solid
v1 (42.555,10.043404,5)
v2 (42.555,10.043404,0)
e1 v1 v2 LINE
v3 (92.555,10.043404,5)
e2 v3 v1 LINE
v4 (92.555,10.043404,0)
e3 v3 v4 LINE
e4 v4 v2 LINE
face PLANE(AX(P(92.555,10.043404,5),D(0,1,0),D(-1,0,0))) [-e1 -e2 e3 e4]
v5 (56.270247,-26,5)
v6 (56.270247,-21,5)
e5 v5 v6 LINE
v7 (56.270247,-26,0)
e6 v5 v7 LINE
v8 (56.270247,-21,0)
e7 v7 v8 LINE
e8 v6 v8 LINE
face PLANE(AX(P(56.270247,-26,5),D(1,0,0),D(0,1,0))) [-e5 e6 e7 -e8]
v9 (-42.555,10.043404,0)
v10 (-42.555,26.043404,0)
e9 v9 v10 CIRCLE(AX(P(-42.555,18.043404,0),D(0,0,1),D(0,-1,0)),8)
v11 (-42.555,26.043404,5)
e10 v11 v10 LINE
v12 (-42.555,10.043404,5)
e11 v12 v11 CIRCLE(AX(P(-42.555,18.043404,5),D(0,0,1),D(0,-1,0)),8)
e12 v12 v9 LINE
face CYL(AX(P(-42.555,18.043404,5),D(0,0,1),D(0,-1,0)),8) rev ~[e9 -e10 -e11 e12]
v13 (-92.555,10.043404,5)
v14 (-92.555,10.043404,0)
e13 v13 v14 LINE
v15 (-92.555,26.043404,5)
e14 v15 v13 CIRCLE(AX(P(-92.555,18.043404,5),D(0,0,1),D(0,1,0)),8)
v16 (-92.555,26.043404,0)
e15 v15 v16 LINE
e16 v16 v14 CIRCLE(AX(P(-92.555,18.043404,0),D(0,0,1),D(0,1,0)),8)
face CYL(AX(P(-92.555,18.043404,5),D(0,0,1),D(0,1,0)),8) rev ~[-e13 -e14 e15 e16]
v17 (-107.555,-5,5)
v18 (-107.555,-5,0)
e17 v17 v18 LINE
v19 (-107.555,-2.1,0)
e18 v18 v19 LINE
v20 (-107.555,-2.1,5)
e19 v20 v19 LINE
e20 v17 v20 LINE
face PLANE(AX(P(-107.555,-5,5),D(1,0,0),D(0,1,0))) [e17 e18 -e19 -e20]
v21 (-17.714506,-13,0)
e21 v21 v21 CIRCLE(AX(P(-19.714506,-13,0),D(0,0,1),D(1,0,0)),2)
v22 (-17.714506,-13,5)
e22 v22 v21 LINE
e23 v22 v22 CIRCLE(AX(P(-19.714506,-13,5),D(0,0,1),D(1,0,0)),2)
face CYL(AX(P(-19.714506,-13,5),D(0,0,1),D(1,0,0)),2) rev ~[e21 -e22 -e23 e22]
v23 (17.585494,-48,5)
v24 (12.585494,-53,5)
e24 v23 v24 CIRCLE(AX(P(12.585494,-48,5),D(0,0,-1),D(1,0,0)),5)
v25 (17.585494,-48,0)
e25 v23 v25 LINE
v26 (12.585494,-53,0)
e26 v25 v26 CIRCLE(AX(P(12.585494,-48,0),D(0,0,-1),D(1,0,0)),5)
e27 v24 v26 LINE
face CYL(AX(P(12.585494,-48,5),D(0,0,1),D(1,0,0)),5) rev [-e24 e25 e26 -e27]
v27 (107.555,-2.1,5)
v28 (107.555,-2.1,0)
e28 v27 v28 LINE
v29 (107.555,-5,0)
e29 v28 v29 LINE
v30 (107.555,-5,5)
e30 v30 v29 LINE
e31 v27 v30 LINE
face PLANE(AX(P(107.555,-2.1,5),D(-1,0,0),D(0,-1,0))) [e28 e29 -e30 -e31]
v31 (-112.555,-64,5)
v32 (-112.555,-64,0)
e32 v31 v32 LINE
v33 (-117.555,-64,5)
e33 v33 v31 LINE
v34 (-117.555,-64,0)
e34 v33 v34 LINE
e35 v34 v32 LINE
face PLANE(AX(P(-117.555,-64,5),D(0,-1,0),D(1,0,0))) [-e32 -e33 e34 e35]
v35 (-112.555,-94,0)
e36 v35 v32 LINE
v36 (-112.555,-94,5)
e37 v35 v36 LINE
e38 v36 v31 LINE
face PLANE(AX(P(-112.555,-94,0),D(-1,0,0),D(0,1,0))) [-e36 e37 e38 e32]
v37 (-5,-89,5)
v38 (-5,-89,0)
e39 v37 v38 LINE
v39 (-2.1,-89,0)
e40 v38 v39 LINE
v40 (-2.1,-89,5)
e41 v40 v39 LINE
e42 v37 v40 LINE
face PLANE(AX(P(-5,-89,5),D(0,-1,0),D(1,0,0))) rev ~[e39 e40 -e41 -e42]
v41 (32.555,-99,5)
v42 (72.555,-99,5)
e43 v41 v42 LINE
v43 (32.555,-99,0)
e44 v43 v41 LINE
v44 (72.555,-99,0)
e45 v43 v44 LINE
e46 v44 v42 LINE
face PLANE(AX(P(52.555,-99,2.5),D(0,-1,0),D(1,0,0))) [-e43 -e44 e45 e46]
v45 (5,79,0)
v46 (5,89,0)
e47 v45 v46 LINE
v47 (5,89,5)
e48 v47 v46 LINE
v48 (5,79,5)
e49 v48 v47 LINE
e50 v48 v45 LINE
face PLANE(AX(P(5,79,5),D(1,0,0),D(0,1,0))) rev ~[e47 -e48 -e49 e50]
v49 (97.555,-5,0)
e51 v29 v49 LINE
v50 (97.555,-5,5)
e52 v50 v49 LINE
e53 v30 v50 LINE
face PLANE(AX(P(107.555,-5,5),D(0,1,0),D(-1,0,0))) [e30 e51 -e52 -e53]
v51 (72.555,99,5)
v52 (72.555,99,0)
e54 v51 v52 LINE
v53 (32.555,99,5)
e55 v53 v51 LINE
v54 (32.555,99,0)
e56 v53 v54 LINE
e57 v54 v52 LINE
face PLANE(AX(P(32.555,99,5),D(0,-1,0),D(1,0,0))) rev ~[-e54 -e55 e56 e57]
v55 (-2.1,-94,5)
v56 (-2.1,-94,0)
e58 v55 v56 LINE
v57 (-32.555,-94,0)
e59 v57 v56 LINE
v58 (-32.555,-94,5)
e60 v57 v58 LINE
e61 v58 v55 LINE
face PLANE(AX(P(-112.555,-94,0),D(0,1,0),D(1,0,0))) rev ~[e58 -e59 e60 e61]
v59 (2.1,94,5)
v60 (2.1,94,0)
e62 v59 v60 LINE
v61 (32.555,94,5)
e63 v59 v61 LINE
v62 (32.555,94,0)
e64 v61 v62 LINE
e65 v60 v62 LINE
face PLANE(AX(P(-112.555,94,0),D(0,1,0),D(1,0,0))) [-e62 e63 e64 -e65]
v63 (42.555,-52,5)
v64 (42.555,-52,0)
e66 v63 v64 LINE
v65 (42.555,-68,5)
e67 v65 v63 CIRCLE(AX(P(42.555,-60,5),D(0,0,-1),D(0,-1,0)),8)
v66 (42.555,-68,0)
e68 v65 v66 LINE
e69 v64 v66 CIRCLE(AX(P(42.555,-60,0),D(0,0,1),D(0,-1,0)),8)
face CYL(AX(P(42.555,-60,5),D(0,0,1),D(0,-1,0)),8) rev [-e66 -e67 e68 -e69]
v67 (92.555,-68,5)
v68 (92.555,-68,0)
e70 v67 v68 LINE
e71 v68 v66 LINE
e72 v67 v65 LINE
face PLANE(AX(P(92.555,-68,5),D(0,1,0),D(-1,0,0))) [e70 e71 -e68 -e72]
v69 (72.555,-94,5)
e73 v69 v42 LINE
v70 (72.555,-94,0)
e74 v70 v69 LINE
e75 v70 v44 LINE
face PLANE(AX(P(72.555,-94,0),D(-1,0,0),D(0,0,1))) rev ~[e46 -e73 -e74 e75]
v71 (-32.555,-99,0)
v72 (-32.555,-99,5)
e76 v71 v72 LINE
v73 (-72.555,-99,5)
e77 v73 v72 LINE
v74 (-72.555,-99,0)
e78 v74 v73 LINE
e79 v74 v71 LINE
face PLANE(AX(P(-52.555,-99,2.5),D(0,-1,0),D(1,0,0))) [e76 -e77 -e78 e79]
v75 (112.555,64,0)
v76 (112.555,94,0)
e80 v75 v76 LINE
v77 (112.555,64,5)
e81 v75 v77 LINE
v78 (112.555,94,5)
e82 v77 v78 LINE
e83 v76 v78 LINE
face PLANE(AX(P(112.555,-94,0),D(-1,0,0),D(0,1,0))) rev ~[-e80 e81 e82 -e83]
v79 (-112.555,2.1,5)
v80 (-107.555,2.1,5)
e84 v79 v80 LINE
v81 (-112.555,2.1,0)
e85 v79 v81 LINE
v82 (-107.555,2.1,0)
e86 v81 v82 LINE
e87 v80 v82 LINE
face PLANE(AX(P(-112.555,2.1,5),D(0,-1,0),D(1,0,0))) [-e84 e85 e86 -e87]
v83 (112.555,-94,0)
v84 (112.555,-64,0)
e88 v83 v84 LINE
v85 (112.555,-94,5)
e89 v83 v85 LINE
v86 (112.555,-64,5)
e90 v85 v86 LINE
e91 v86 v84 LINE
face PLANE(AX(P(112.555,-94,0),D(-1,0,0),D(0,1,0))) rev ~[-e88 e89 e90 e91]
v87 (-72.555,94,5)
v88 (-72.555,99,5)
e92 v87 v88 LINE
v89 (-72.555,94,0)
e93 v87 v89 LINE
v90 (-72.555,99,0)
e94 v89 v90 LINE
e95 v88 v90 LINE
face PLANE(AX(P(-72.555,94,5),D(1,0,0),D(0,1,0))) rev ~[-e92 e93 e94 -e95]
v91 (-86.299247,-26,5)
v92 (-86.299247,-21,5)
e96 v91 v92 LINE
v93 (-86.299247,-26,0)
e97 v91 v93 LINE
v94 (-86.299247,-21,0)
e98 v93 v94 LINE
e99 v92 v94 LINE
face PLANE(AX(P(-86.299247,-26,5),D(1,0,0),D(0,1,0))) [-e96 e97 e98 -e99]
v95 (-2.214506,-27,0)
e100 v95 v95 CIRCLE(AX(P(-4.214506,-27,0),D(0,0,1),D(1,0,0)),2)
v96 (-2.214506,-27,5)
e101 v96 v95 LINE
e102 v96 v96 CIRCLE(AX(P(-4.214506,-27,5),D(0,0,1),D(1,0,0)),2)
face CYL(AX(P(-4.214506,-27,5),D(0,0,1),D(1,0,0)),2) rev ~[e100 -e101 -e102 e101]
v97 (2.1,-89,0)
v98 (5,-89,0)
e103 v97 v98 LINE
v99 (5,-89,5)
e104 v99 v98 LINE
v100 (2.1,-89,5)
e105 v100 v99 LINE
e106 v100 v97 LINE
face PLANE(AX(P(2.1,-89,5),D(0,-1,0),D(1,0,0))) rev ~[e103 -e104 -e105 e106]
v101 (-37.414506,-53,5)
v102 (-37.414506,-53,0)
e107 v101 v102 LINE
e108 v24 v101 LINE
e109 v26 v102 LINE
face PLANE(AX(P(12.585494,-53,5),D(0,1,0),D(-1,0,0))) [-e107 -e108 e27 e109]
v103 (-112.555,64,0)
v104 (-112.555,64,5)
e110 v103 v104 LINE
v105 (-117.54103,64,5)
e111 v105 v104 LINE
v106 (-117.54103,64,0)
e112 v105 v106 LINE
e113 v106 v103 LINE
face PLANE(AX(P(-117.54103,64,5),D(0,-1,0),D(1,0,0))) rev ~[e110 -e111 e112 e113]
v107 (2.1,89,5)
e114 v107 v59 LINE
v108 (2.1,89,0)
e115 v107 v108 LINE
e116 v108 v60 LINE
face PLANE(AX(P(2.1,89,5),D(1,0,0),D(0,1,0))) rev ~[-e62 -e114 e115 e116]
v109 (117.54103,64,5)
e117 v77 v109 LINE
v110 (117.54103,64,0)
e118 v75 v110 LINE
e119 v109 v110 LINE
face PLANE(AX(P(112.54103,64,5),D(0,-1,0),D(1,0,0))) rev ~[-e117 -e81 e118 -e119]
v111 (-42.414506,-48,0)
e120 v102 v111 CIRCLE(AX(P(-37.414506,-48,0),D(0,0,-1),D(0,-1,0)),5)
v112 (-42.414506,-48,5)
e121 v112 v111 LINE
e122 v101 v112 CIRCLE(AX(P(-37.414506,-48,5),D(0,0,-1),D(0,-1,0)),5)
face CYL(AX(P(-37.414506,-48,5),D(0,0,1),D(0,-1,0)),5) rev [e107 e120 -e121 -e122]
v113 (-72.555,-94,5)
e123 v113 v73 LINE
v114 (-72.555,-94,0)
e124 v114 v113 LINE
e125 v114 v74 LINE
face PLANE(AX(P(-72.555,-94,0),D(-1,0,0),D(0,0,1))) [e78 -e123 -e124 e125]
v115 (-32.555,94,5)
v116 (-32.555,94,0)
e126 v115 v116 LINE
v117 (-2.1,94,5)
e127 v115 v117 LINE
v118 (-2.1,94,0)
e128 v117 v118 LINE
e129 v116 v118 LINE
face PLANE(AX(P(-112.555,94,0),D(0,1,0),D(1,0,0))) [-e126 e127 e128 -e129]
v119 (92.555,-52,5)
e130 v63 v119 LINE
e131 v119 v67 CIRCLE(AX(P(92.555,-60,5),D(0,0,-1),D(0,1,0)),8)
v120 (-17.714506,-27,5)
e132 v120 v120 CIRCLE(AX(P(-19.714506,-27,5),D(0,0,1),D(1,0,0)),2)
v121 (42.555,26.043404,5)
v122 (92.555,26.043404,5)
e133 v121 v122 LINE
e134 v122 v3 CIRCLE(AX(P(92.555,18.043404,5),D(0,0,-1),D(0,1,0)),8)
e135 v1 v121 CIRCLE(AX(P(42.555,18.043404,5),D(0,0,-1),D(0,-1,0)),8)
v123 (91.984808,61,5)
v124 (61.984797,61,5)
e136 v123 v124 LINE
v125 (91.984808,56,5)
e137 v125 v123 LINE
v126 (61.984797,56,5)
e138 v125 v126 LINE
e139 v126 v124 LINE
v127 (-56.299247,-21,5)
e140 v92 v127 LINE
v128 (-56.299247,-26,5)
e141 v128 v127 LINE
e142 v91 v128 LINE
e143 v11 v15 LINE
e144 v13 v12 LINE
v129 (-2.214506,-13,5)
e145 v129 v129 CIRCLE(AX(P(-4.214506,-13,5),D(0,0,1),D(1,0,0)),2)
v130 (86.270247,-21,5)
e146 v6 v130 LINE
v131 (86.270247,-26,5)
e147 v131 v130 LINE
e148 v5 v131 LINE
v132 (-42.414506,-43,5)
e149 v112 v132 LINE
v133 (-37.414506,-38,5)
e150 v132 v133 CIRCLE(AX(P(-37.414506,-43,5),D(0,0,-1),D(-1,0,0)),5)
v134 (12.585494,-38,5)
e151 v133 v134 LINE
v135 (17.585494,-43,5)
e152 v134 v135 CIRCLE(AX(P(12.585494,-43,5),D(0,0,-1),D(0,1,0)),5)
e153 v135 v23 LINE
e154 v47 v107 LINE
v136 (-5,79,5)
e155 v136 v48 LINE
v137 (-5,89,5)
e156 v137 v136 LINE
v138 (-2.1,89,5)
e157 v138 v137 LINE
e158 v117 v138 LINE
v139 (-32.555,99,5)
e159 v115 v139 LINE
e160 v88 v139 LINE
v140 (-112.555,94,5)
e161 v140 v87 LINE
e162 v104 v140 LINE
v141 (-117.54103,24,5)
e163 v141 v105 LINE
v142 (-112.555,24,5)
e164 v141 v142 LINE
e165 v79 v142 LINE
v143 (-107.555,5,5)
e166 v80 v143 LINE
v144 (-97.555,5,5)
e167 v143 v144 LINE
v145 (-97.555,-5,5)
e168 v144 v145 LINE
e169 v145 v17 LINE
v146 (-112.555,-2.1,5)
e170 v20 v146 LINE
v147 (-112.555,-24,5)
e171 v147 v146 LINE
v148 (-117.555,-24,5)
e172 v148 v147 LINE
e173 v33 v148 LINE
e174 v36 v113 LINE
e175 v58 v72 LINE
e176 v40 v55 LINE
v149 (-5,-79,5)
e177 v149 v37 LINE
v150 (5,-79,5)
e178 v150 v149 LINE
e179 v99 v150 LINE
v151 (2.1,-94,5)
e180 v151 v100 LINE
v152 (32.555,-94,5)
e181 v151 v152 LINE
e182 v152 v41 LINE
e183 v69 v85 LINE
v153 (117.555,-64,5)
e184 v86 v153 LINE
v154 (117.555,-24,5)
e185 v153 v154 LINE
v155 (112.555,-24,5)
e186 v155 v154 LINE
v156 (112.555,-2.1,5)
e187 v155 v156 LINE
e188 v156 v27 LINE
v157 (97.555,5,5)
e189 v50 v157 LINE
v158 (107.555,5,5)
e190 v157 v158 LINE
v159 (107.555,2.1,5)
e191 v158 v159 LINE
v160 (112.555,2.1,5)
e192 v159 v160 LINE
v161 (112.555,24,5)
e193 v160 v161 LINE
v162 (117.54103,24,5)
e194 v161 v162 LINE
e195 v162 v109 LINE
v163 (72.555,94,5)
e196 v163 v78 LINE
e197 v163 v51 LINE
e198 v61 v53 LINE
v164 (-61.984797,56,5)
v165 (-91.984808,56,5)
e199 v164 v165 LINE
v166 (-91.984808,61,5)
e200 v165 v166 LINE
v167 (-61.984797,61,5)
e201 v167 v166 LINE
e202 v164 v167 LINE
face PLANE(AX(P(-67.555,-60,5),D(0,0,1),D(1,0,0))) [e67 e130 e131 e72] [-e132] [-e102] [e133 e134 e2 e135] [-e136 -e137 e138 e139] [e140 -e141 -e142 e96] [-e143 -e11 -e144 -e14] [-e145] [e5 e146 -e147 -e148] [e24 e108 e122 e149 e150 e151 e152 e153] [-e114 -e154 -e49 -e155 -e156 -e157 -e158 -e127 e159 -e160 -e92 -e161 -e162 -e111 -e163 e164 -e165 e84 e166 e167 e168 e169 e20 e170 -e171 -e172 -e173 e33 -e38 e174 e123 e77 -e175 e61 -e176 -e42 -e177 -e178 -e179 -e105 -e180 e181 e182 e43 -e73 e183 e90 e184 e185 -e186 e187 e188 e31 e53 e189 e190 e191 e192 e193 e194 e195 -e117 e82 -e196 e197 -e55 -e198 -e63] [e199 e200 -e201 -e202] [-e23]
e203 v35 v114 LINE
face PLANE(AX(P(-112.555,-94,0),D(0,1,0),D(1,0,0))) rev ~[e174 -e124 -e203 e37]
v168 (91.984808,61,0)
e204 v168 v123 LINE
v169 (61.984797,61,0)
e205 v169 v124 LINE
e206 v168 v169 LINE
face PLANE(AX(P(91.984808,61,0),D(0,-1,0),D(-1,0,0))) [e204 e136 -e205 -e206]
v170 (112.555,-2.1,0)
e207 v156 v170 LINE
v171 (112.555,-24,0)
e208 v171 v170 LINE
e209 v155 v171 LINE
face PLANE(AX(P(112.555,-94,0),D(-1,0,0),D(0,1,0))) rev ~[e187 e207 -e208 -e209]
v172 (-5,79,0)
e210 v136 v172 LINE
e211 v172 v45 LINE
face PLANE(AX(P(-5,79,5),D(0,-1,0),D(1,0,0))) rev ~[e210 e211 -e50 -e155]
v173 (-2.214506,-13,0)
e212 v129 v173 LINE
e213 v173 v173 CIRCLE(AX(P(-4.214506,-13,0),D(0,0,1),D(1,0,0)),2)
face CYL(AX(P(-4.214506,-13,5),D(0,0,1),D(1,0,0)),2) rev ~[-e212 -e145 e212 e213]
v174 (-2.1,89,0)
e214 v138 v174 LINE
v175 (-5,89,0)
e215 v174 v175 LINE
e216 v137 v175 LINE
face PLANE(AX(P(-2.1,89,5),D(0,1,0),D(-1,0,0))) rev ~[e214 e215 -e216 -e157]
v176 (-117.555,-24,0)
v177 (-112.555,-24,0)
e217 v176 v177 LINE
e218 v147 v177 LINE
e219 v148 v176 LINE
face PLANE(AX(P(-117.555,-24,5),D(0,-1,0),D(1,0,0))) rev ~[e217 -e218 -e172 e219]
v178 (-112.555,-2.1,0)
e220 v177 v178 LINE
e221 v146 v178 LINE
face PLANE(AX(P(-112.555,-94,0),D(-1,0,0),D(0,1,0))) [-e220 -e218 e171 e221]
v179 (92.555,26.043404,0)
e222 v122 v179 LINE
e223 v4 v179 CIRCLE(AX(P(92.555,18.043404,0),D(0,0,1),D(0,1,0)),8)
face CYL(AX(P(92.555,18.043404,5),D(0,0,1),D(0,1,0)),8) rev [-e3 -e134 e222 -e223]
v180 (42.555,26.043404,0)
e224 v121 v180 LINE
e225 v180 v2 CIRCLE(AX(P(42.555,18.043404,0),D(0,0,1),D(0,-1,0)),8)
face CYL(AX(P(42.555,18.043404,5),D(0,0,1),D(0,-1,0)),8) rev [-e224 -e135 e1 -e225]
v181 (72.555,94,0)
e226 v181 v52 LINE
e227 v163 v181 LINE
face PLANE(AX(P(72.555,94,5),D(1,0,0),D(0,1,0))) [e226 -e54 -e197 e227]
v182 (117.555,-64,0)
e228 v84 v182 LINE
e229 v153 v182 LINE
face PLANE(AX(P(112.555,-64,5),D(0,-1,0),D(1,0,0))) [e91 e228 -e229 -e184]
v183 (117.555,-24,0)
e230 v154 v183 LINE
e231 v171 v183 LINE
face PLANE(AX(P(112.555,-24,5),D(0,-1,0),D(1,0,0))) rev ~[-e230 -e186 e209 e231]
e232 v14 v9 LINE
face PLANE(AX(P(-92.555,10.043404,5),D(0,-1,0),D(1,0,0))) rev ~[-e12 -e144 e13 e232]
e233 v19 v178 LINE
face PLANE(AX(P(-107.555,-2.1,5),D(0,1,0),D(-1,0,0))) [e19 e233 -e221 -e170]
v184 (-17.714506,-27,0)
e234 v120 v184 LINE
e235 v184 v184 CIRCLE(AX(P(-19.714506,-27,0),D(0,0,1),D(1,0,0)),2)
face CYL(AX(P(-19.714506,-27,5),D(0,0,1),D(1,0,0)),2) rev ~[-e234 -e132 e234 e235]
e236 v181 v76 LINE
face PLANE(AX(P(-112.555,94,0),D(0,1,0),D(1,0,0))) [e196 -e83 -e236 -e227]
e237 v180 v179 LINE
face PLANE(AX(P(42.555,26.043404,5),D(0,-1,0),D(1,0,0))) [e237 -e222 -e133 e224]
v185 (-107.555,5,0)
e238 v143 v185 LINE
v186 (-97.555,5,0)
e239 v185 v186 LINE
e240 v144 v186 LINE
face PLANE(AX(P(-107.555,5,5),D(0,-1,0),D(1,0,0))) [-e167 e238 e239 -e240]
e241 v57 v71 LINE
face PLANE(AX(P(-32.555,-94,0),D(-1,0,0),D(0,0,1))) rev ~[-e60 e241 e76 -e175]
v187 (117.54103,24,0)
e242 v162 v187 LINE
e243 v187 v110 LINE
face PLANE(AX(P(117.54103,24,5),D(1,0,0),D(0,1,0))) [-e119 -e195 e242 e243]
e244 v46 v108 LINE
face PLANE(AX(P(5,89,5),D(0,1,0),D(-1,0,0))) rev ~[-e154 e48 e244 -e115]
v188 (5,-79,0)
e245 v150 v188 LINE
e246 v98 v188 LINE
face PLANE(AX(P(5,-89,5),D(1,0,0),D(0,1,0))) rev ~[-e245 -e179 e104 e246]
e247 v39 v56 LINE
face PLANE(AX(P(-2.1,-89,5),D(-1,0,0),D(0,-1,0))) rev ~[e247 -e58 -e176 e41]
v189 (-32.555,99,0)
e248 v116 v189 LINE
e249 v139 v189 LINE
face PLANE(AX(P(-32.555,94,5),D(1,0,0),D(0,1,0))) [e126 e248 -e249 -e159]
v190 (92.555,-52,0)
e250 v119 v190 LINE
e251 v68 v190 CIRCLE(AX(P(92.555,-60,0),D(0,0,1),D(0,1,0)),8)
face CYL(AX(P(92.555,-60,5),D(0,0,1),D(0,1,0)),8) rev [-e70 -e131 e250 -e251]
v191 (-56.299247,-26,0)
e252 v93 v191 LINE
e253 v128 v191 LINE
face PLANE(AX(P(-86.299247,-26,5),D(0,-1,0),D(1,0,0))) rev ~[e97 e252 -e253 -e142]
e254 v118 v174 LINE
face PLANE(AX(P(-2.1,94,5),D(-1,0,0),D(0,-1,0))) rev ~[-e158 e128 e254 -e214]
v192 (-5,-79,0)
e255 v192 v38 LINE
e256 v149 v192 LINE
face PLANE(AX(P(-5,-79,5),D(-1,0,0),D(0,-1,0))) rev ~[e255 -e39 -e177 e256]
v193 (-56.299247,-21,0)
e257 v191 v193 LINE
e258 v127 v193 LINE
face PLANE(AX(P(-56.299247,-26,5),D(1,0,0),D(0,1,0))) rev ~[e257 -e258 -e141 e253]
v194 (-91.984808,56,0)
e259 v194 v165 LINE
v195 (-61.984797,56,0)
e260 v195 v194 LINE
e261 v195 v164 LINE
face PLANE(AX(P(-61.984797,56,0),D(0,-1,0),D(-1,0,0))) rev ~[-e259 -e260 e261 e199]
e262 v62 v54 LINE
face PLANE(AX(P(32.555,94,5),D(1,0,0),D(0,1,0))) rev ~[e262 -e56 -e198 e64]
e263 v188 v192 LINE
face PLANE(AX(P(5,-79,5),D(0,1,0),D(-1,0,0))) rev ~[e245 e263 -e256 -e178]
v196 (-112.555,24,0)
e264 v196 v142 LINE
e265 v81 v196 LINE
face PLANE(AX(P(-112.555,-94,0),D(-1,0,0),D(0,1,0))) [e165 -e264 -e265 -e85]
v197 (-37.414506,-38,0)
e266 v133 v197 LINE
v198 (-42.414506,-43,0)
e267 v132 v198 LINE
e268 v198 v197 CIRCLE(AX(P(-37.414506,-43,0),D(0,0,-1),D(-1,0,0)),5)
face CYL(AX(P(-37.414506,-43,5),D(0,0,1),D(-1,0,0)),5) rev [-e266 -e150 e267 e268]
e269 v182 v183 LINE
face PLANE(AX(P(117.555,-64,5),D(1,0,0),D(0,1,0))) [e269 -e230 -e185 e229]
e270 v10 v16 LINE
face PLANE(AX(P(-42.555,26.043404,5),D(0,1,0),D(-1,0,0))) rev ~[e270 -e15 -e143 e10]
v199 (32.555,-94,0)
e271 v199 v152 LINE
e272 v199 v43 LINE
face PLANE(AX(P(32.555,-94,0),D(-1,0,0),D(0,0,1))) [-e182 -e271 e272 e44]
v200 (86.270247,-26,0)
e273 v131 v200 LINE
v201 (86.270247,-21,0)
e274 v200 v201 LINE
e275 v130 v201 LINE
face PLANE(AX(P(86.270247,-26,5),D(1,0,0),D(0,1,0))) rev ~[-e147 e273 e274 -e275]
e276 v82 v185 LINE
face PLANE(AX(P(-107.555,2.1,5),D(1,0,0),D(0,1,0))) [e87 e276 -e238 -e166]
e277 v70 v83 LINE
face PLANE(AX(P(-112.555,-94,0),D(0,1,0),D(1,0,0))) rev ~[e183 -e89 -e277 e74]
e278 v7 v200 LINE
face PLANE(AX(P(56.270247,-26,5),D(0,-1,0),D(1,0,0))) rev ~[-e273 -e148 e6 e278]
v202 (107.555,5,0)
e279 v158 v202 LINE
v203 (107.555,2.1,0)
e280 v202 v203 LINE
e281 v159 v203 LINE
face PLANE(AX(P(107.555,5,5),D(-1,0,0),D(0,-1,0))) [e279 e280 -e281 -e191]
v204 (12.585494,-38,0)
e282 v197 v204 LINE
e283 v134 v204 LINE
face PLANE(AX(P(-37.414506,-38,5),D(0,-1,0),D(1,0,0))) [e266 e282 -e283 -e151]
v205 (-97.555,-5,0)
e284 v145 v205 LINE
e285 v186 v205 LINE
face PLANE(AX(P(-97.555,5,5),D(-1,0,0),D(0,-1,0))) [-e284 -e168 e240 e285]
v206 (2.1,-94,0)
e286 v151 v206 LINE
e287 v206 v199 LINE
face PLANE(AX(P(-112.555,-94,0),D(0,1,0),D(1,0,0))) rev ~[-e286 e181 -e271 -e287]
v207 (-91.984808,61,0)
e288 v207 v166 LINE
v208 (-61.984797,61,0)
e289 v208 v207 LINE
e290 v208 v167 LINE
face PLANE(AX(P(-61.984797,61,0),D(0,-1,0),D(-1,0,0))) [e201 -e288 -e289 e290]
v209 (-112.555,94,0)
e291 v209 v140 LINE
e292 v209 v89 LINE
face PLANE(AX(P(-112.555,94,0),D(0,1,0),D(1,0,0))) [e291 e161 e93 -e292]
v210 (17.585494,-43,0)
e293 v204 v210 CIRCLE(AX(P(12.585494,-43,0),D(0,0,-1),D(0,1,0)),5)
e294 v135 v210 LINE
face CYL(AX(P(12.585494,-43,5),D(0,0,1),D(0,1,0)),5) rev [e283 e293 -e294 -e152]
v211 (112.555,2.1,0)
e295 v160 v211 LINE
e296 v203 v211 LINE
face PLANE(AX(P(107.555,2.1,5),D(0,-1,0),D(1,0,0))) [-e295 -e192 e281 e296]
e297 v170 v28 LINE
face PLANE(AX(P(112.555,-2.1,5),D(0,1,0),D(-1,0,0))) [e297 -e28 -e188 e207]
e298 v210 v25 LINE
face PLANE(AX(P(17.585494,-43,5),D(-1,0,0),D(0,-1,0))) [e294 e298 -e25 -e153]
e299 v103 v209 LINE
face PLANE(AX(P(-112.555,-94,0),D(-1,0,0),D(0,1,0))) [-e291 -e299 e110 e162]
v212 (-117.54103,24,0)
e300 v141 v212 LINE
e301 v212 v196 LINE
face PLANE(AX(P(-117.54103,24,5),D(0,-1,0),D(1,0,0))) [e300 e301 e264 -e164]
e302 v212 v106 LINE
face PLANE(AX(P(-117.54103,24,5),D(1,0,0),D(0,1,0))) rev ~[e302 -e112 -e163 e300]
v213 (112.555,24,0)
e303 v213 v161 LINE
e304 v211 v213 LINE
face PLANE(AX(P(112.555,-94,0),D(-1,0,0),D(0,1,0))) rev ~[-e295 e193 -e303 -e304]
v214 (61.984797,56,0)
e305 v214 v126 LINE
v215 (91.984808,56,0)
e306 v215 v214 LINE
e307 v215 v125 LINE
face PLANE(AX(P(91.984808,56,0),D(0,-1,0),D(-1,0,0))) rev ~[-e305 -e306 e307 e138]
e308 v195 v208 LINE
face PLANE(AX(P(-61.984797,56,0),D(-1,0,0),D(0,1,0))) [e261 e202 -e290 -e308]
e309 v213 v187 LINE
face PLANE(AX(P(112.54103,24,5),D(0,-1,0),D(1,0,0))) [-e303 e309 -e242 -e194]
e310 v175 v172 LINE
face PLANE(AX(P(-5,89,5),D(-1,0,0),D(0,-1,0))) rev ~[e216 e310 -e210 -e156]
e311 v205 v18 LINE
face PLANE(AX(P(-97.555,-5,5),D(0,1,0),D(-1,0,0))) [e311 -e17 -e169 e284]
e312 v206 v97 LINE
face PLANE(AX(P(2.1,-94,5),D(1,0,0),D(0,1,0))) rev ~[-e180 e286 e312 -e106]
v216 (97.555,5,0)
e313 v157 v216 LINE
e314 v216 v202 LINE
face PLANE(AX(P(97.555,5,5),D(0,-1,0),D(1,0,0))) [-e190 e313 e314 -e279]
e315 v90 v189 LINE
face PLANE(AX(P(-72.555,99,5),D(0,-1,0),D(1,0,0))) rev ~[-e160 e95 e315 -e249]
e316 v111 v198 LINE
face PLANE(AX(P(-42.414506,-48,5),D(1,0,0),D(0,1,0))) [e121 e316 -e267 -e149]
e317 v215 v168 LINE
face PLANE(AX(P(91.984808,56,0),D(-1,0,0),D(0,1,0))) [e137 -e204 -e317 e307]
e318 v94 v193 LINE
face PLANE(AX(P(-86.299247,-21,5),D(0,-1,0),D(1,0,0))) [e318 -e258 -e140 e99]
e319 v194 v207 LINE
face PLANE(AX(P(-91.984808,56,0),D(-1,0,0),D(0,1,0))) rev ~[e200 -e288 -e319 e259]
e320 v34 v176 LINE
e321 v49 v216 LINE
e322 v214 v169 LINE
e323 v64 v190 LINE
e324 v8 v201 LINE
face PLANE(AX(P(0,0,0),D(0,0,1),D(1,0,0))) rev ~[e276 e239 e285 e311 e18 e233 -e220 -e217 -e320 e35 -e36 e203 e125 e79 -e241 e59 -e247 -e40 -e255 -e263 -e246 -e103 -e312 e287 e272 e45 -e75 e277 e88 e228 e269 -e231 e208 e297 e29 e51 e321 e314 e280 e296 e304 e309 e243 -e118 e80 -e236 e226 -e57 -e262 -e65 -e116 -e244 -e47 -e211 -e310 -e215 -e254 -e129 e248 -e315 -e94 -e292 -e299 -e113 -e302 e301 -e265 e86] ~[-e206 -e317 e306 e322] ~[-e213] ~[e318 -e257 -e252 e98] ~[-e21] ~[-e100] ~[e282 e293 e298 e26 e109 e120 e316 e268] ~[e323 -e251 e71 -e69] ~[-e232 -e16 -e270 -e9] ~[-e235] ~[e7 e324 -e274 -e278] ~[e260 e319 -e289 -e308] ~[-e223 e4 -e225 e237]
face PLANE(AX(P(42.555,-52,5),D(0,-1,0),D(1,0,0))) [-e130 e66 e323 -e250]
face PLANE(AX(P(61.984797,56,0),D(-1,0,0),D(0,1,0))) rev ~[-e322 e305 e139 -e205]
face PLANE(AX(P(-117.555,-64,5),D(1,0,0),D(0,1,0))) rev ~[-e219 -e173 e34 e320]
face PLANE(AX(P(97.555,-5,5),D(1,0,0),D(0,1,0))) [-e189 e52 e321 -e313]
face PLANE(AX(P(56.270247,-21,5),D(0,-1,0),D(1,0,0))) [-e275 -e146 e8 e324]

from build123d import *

# Parameters (mm, degrees)
SKETCH1_W           = 225.11
SKETCH1_H           = 188
BOSS_EXTRUDE1_DEPTH = 5
SKETCH2_R           = 2
CUT_EXTRUDE1_DEPTH  = 10
SKETCH3_W           = 40
SKETCH3_H           = 5
BOSS_EXTRUDE2_DEPTH = 5
SKETCH5_W           = 5
SKETCH5_H           = 40
SKETCH5_W_2         = 40
SKETCH5_H_2         = 5
BOSS_EXTRUDE3_DEPTH = 5
CUT_EXTRUDE2_DEPTH  = 5
CUT_EXTRUDE3_DEPTH  = 5
SKETCH8_W           = 30
SKETCH8_H           = 5
CUT_EXTRUDE4_DEPTH  = 5
SKETCH9_W           = 30.000010782
SKETCH9_H           = 5
CUT_EXTRUDE5_DEPTH  = 5
CUT_EXTRUDE6_DEPTH  = 15
BOSS_EXTRUDE4_DEPTH = 5


with BuildPart() as part:
    # Sketch1 → Boss-Extrude1 (new body)
    with BuildSketch(Plane.XY):
        Rectangle(SKETCH1_W, SKETCH1_H)
    extrude(amount=BOSS_EXTRUDE1_DEPTH)

    # Sketch2 → Cut-Extrude1 (cut)
    with BuildSketch(Plane.XY.offset(5)):
        with Locations((-19.714505863, -13)):
            Circle(SKETCH2_R)
        with Locations((-4.214505863, -13)):
            Circle(SKETCH2_R)
        with Locations((-4.214505863, -27)):
            Circle(SKETCH2_R)
        with Locations((-19.714505863, -27)):
            Circle(SKETCH2_R)
    extrude(amount=-CUT_EXTRUDE1_DEPTH, mode=Mode.SUBTRACT)

    # Sketch3 → Boss-Extrude2 (add)
    with BuildSketch(Plane.XZ.offset(94)):
        with Locations((-52.555, 2.5)):
            Rectangle(SKETCH3_W, SKETCH3_H)
        with Locations((52.555, 2.5)):
            Rectangle(SKETCH3_W, SKETCH3_H)
    extrude(amount=BOSS_EXTRUDE2_DEPTH)

    # Sketch5 → Boss-Extrude3 (add)
    with BuildSketch(Plane.XY.offset(5)):
        with Locations((115.055, -44)):
            Rectangle(SKETCH5_W, SKETCH5_H)
        with Locations((115.041030137, 44)):
            Rectangle(SKETCH5_W, SKETCH5_H)
        with Locations((52.555, 96.5)):
            Rectangle(SKETCH5_W_2, SKETCH5_H_2)
        with Locations((-52.555, 96.5)):
            Rectangle(SKETCH5_W_2, SKETCH5_H_2)
        with Locations((-115.041030137, 44)):
            Rectangle(SKETCH5_W, SKETCH5_H)
        with Locations((-115.055, -44)):
            Rectangle(SKETCH5_W, SKETCH5_H)
    extrude(amount=-BOSS_EXTRUDE3_DEPTH)

    # Sketch6 → Cut-Extrude2 (cut)
    with BuildSketch(Plane.XY.offset(5)):
        Polygon((112.555, -2.1), (107.555, -2.1), (107.555, -5), (97.555, -5), (97.555, 5), (107.555, 5), (107.555, 2.1), (112.555, 2.1), align=None)
        Polygon((2.1, -94), (2.1, -89), (5, -89), (5, -79), (-5, -79), (-5, -89), (-2.1, -89), (-2.1, -94), align=None)
        Polygon((-2.1, 94), (-2.1, 89), (-5, 89), (-5, 79), (5, 79), (5, 89), (2.1, 89), (2.1, 94), align=None)
        Polygon((-112.555, 2.1), (-107.555, 2.1), (-107.555, 5), (-97.555, 5), (-97.555, -5), (-107.555, -5), (-107.555, -2.1), (-112.555, -2.1), align=None)
    extrude(amount=-CUT_EXTRUDE2_DEPTH, mode=Mode.SUBTRACT)

    # Sketch7 → Cut-Extrude3 (cut)
    with BuildSketch(Plane.XY.offset(5)):
        with BuildLine():
            Line((12.585494137, -53), (-37.414505863, -53))
            ThreePointArc((-37.414505863, -53), (-40.950039769, -51.535533906), (-42.414505863, -48))
            Line((-42.414505863, -48), (-42.414505863, -43))
            ThreePointArc((-42.414505863, -43), (-40.950039769, -39.464466094), (-37.414505863, -38))
            Line((-37.414505863, -38), (12.585494137, -38))
            ThreePointArc((12.585494137, -38), (16.121028043, -39.464466094), (17.585494137, -43))
            Line((17.585494137, -43), (17.585494137, -48))
            ThreePointArc((17.585494137, -48), (16.121028043, -51.535533906), (12.585494137, -53))
        make_face()
    extrude(amount=-CUT_EXTRUDE3_DEPTH, mode=Mode.SUBTRACT)

    # Sketch8 → Cut-Extrude4 (cut)
    with BuildSketch(Plane.XY.offset(5)):
        with Locations((71.270247069, -23.5)):
            Rectangle(SKETCH8_W, SKETCH8_H)
        with Locations((-71.299246748, -23.5)):
            Rectangle(SKETCH8_W, SKETCH8_H)
    extrude(amount=-CUT_EXTRUDE4_DEPTH, mode=Mode.SUBTRACT)

    # Sketch9 → Cut-Extrude5 (cut)
    with BuildSketch(Plane(origin=(0, 0, 0), x_dir=(-1, 0, 0), z_dir=(0, 0, -1))):
        with Locations((76.984802428, 58.5)):
            Rectangle(SKETCH9_W, SKETCH9_H)
        with Locations((-76.984802428, 58.5)):
            Rectangle(SKETCH9_W, SKETCH9_H)
    extrude(amount=-CUT_EXTRUDE5_DEPTH, mode=Mode.SUBTRACT)

    # Sketch10 → Cut-Extrude6 (cut)
    with BuildSketch(Plane.XY.offset(5)):
        with BuildLine():
            Line((92.555, -68), (42.555, -68))
            ThreePointArc((42.555, -68), (34.555, -60), (42.555, -52))
            Line((42.555, -52), (92.555, -52))
            ThreePointArc((92.555, -52), (100.555, -60), (92.555, -68))
        make_face()
        with BuildLine():
            Line((92.555, 10.043404022), (42.555, 10.043404022))
            ThreePointArc((42.555, 10.043404022), (34.555, 18.043404022), (42.555, 26.043404022))
            Line((42.555, 26.043404022), (92.555, 26.043404022))
            ThreePointArc((92.555, 26.043404022), (100.555, 18.043404022), (92.555, 10.043404022))
        make_face()
        with BuildLine():
            Line((-92.555, 10.043404022), (-42.555, 10.043404022))
            ThreePointArc((-42.555, 10.043404022), (-34.555, 18.043404022), (-42.555, 26.043404022))
            Line((-42.555, 26.043404022), (-92.555, 26.043404022))
            ThreePointArc((-92.555, 26.043404022), (-100.555, 18.043404022), (-92.555, 10.043404022))
        make_face()
        with BuildLine():
            Line((-92.555, -68), (-42.555, -68))
            ThreePointArc((-42.555, -68), (-34.555, -60), (-42.555, -52))
            Line((-42.555, -52), (-92.555, -52))
            ThreePointArc((-92.555, -52), (-100.555, -60), (-92.555, -68))
        make_face()
    extrude(amount=-CUT_EXTRUDE6_DEPTH, mode=Mode.SUBTRACT)

    # Sketch11 → Boss-Extrude4 (add)
    with BuildSketch(Plane.XY.offset(5)):
        with BuildLine():
            Line((-92.555, -68), (-42.555, -68))
            ThreePointArc((-42.555, -68), (-34.555, -60), (-42.555, -52))
            Line((-42.555, -52), (-92.555, -52))
            ThreePointArc((-92.555, -52), (-100.555, -60), (-92.555, -68))
        make_face()
    extrude(amount=-BOSS_EXTRUDE4_DEPTH)


solid = part.part
